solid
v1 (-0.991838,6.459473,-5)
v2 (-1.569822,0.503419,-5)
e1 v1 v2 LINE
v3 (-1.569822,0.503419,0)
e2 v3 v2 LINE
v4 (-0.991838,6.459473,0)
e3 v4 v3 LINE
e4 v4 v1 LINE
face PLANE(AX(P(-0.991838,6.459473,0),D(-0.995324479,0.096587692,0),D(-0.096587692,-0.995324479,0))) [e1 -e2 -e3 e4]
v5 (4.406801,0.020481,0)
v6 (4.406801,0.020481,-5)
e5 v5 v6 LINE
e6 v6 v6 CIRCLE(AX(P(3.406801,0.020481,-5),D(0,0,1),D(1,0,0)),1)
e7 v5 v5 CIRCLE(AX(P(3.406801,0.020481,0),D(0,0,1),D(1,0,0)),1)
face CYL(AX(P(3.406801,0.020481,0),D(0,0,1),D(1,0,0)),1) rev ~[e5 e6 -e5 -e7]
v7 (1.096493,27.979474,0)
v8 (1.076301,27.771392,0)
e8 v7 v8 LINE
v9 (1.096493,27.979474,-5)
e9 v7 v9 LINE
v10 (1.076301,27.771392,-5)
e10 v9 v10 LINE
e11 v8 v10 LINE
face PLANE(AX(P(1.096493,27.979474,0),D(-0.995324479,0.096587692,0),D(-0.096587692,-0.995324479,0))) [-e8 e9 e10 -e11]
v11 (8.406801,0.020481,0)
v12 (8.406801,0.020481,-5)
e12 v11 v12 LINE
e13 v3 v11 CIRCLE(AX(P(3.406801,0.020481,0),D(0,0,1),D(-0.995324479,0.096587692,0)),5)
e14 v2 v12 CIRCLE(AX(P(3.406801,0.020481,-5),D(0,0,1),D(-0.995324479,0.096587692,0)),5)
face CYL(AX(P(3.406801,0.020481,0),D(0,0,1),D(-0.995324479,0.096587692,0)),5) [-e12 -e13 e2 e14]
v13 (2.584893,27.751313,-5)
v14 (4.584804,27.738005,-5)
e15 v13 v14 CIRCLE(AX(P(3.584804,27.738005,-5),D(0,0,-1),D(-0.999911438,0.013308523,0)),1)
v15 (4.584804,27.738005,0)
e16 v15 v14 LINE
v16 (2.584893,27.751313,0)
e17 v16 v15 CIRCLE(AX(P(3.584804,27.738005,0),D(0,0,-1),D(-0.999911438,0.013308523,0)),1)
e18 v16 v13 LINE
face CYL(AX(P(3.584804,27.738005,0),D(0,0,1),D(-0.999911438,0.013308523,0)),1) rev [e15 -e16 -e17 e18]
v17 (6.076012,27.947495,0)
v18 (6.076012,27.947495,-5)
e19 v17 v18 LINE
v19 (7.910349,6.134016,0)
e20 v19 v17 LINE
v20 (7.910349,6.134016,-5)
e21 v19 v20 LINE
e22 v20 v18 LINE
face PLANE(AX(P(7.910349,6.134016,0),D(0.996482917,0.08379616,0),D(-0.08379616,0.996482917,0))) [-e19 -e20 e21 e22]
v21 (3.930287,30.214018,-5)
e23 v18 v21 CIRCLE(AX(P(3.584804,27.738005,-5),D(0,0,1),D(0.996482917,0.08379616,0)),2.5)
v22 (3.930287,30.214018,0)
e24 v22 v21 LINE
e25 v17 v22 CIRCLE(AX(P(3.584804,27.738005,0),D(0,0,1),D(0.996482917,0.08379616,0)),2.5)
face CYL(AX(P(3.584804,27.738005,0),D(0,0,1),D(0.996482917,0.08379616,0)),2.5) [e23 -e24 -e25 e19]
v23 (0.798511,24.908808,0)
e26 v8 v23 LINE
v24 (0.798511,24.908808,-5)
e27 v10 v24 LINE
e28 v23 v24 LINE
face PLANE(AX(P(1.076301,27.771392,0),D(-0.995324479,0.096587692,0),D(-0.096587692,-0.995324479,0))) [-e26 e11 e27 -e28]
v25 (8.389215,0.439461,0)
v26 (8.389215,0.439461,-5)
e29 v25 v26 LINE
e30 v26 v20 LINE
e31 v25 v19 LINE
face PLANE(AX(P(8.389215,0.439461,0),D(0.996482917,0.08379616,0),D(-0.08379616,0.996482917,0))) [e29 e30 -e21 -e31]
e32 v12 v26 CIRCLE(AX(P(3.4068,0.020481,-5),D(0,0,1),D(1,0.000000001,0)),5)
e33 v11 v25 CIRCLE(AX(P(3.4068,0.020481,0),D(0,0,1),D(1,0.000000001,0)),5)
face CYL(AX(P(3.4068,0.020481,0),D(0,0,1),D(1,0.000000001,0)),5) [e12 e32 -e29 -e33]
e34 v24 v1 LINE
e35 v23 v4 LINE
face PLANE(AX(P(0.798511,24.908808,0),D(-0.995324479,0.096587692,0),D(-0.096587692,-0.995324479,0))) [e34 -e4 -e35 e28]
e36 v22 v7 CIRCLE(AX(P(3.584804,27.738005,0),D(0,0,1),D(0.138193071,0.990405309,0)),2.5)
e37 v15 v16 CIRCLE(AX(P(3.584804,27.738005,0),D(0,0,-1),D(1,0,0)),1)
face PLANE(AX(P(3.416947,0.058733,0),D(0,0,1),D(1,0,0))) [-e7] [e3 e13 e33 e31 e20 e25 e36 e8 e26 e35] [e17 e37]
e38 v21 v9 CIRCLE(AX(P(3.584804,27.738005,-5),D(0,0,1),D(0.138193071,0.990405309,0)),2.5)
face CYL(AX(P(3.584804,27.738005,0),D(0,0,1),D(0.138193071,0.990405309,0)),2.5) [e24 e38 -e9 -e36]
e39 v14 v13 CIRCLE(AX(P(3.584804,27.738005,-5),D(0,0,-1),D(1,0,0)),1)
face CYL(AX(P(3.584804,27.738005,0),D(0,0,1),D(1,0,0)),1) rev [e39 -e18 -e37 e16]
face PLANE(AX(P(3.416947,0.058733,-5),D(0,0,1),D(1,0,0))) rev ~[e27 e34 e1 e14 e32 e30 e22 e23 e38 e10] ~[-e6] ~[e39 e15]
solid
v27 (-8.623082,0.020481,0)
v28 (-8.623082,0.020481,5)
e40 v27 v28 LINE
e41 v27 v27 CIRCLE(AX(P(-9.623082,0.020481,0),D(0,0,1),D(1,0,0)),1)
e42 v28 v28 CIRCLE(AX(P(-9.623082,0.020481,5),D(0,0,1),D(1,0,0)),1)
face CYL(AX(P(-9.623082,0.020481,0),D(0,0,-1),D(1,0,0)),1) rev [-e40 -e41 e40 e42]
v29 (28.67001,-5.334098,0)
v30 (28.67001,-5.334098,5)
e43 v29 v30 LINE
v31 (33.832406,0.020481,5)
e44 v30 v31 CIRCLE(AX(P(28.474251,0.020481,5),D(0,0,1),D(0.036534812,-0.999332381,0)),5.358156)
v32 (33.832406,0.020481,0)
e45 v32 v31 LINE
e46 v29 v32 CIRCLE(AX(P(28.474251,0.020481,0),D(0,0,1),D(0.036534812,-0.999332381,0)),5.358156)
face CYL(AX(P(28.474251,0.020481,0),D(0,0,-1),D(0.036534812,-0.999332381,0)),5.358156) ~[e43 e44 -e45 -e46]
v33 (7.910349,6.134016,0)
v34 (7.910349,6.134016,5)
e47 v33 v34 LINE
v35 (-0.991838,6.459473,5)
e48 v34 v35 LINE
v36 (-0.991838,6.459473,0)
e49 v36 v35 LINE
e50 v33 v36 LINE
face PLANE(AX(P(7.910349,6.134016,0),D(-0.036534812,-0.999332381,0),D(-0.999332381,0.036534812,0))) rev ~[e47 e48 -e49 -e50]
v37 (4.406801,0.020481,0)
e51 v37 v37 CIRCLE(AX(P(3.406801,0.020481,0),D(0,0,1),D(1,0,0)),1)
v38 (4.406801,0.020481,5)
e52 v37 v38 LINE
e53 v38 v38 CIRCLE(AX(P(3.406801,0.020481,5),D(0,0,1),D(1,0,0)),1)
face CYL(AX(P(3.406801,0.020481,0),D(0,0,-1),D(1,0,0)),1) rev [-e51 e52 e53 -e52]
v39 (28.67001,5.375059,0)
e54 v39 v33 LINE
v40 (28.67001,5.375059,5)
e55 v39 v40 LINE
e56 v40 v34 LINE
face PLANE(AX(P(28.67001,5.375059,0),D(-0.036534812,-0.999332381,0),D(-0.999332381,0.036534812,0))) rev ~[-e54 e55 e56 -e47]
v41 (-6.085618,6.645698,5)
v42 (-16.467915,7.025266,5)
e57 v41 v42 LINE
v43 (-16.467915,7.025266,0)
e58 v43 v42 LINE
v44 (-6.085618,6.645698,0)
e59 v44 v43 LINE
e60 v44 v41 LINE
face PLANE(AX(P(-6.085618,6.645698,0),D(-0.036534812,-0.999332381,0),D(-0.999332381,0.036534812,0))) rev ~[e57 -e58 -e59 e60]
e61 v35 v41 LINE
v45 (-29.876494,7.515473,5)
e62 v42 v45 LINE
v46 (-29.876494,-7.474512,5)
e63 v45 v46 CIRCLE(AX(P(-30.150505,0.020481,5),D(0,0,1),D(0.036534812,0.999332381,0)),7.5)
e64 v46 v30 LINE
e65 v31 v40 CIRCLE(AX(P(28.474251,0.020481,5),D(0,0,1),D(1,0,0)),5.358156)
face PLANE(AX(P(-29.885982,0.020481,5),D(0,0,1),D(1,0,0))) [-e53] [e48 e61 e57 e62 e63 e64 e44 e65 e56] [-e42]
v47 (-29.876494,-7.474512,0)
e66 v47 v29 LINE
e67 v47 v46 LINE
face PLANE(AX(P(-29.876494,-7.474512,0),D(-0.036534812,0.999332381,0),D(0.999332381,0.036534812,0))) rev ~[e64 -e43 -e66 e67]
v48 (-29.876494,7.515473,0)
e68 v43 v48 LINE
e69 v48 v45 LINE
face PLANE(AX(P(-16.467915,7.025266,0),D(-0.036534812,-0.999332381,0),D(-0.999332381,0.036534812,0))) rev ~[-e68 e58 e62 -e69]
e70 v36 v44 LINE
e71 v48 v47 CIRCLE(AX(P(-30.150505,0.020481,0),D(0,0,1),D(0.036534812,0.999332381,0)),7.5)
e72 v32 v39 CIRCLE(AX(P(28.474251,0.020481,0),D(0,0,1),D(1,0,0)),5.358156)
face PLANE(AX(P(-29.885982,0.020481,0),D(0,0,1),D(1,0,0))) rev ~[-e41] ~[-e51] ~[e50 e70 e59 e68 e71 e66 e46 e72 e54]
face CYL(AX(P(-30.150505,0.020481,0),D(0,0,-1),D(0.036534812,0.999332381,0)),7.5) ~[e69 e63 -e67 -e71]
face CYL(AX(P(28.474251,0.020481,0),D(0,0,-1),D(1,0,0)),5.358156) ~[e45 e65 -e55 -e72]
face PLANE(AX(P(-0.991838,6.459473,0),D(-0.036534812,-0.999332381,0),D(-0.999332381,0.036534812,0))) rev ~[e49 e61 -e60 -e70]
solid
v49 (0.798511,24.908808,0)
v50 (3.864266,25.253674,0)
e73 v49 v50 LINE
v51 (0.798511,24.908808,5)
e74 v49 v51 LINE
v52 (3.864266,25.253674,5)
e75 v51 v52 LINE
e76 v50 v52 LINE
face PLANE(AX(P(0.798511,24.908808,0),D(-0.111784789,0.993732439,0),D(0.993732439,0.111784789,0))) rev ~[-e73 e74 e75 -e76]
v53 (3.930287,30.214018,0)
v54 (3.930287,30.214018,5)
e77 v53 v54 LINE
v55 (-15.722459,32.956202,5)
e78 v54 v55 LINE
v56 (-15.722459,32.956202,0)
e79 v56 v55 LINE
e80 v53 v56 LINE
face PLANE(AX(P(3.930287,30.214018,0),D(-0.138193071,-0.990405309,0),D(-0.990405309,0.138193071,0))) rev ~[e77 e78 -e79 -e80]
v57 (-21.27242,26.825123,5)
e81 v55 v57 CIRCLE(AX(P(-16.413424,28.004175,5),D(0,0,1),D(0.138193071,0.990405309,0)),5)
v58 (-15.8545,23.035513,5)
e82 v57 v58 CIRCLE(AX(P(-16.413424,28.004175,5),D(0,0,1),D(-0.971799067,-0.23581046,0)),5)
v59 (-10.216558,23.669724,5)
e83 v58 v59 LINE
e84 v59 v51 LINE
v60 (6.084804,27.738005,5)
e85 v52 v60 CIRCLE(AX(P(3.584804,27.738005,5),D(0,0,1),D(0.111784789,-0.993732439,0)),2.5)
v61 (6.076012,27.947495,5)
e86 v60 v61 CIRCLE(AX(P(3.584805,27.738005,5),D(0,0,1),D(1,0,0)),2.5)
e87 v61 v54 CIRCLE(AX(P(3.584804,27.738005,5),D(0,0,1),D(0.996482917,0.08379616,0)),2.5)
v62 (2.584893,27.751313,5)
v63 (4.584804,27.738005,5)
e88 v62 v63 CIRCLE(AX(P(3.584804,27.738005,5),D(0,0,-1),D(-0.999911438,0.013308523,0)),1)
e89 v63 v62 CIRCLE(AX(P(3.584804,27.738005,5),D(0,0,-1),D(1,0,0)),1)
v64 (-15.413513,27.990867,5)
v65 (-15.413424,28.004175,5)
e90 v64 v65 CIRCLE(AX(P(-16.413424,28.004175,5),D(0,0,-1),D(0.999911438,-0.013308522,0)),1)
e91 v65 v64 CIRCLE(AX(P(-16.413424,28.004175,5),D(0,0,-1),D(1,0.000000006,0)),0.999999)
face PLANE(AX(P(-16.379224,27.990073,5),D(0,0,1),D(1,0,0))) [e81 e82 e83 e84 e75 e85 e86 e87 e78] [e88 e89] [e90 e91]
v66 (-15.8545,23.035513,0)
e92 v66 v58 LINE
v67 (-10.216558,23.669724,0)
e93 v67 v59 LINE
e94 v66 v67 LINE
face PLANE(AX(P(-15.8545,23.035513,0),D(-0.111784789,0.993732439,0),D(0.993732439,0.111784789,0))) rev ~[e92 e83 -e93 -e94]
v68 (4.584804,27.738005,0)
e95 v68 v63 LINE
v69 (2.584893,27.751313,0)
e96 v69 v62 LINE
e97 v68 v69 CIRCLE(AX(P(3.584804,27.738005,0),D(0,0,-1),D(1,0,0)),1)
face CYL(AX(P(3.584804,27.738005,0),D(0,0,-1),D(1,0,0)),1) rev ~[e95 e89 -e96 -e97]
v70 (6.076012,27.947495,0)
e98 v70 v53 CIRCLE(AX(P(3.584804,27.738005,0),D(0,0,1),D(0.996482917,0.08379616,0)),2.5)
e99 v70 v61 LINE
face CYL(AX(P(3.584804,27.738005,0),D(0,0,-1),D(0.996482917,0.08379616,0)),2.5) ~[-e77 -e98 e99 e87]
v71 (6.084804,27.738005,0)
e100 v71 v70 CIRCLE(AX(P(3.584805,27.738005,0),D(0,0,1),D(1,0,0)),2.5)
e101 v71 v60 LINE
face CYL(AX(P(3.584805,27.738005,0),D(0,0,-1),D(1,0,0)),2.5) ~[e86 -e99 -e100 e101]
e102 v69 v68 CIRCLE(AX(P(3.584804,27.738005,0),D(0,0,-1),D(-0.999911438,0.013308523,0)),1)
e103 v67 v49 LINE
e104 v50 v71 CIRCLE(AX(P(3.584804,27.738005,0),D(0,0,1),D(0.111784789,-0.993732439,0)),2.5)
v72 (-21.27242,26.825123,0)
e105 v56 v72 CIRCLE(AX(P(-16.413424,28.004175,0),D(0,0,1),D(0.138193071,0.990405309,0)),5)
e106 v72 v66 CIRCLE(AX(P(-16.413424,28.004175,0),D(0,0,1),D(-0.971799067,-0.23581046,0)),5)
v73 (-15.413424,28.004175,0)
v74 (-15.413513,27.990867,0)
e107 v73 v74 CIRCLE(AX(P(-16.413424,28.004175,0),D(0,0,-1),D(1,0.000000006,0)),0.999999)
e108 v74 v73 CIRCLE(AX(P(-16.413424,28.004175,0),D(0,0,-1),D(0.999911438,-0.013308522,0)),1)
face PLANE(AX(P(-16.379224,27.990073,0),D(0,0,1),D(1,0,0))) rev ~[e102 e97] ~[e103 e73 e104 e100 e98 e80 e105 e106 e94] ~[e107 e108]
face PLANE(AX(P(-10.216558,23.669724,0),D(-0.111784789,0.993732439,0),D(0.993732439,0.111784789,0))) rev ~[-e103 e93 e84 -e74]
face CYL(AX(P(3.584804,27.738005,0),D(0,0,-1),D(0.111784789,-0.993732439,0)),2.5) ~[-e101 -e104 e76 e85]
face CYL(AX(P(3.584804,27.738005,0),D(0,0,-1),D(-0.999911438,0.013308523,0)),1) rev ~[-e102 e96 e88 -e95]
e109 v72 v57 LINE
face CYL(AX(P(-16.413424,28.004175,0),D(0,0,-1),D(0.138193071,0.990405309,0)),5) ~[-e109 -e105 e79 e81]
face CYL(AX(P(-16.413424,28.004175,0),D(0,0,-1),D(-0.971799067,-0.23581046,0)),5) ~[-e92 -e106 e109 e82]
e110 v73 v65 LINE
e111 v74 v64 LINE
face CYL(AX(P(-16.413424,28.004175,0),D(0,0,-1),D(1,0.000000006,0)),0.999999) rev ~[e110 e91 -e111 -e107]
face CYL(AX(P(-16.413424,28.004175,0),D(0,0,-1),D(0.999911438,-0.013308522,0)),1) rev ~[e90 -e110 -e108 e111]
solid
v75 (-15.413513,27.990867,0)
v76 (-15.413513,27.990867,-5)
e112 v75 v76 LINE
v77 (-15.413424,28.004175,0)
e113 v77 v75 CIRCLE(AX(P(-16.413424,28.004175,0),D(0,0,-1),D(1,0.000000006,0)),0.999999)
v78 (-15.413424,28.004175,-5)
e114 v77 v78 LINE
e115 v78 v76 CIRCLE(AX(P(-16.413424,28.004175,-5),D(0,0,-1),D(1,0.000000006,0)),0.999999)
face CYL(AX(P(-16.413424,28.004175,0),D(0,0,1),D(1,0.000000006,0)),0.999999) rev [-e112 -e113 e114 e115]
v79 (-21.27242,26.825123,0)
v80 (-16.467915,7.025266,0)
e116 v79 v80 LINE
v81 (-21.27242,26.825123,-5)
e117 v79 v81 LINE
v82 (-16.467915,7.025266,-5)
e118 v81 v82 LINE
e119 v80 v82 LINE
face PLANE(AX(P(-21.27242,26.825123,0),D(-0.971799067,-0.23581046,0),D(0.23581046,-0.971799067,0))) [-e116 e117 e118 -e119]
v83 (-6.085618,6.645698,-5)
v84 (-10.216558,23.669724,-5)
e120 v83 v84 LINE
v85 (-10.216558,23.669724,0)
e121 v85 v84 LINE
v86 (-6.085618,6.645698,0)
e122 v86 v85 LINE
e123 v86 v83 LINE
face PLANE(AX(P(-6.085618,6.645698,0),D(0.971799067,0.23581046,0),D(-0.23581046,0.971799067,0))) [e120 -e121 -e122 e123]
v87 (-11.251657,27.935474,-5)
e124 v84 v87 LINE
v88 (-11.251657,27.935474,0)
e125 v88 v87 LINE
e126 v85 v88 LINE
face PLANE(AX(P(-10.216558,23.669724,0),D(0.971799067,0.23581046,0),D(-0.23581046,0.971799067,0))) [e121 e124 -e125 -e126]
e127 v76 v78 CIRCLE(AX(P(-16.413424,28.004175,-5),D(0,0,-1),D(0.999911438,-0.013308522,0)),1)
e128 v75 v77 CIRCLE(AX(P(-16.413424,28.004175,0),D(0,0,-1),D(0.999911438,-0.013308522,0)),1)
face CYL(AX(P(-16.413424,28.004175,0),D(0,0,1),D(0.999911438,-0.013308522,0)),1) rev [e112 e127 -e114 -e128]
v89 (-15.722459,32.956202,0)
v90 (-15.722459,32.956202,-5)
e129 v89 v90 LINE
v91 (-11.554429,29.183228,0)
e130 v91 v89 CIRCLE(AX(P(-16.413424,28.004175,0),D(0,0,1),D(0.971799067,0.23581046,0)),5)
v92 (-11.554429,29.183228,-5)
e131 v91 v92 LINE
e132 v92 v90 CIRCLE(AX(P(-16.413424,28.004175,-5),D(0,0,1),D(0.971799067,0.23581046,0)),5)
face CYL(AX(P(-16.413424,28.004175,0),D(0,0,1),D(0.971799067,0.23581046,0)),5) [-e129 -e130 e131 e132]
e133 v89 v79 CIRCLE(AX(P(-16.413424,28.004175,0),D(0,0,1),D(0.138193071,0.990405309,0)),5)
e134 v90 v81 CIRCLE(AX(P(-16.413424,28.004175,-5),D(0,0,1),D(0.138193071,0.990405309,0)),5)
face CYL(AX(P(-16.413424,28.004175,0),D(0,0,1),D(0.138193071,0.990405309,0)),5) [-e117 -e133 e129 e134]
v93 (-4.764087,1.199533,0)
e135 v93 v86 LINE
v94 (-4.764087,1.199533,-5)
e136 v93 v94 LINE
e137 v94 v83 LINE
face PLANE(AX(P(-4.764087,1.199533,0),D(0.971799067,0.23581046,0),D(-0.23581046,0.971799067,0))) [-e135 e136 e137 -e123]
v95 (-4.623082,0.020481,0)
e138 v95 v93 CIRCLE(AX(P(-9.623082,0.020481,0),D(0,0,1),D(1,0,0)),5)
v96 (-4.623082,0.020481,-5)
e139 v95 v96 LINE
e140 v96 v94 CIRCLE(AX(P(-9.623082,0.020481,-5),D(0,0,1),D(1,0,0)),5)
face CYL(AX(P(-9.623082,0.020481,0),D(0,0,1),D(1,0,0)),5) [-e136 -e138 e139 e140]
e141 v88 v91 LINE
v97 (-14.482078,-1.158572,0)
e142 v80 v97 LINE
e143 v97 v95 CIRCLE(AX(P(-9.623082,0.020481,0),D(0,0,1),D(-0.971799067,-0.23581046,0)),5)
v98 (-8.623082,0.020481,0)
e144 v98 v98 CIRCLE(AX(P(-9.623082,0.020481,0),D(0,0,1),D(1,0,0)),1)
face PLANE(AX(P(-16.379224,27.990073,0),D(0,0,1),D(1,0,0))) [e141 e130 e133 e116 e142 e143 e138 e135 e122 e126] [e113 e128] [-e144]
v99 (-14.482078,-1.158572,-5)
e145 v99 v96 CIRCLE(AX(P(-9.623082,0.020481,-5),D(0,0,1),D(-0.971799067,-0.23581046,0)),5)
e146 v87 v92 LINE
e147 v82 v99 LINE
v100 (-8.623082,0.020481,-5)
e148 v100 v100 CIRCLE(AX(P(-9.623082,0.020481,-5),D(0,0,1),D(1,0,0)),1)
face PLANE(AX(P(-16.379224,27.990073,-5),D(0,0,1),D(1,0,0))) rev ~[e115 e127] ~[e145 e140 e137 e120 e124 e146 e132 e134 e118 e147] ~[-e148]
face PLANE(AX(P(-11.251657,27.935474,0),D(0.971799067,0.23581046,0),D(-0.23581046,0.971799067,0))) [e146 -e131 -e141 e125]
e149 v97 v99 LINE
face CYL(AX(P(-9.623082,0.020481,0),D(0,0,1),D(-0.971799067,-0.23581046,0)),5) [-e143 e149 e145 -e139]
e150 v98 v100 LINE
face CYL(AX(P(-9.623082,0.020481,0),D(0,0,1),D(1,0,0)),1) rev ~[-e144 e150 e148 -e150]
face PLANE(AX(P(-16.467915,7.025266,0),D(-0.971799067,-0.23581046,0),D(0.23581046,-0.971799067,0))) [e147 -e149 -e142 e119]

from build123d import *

# Parameters (mm, degrees)
F1_DEPTH = 5
F0_R     = 1
F2_DEPTH = 5


with BuildPart() as f1:
    # F0 (on Top) → F1 (new body)
    with BuildSketch(Plane.XY):
        with BuildLine():
            ThreePointArc((-15.854500332, 23.0355131938), (-12.7077701873, 24.6473721814), (-11.4138670862, 27.9376327737))
            ThreePointArc((-11.4138670862, 27.9376327737), (-11.4135349787, 27.9709033455), (-11.4134242746, 28.0041753906))
            ThreePointArc((-11.4134242746, 28.0041753906), (-11.4488005891, 28.5979023154), (-11.5544289391, 29.1832276921))
            ThreePointArc((-11.5544289391, 29.1832276921), (-13.057928846, 31.7110137238), (-15.72245892, 32.9562019333))
            ThreePointArc((-15.72245892, 32.9562019333), (-20.1202626078, 31.3596708193), (-21.2724196101, 26.8251230892))
            ThreePointArc((-21.2724196101, 26.8251230892), (-19.279246894, 23.9069738196), (-15.854500332, 23.0355131938))
        make_face()
        with BuildLine():
            ThreePointArc((-15.4134242746, 28.0041753906), (-15.4134464154, 27.9975209816), (-15.4135128369, 27.9908668673))
            ThreePointArc((-15.4135128369, 27.9908668673), (-17.4134021338, 28.0108297997), (-15.4134242746, 28.0041753906))
        make_face(mode=Mode.SUBTRACT)
        with BuildLine():
            Line((-11.5544289391, 29.1832276921), (-11.2516570719, 27.9354738067))
            Line((-11.2516570719, 27.9354738067), (1.0763007318, 27.7713923605))
            Line((1.0763007318, 27.7713923605), (1.0964932824, 27.9794741519))
            ThreePointArc((1.0964932824, 27.9794741519), (2.036829904, 29.7011082607), (3.9302871563, 30.2140181942))
            Line((3.9302871563, 30.2140181942), (-15.72245892, 32.9562019333))
            ThreePointArc((-15.72245892, 32.9562019333), (-13.057928846, 31.7110137238), (-11.5544289391, 29.1832276921))
        make_face()
        with BuildLine():
            ThreePointArc((1.0964932824, 27.9794741519), (1.0885880353, 27.875494799), (1.0850258848, 27.7712762313))
            ThreePointArc((1.0850258848, 27.7712762313), (1.9064028744, 25.8851778792), (3.8642664503, 25.2536738244))
            ThreePointArc((3.8642664503, 25.2536738244), (5.4487592704, 26.0719699485), (6.084804479, 27.7380049229))
            ThreePointArc((6.084804479, 27.7380049229), (6.0826053348, 27.842842344), (6.0760117711, 27.9474953231))
            ThreePointArc((6.0760117711, 27.9474953231), (5.400288981, 29.4567300385), (3.9302871563, 30.2140181942))
            ThreePointArc((3.9302871563, 30.2140181942), (2.036829904, 29.7011082607), (1.0964932824, 27.9794741519))
        make_face()
        with BuildLine():
            ThreePointArc((4.584804479, 27.7380049229), (3.57815007, 26.7380270637), (2.5848930414, 27.7513134463))
            ThreePointArc((2.5848930414, 27.7513134463), (3.5914588881, 28.737982782), (4.584804479, 27.7380049229))
        make_face(mode=Mode.SUBTRACT)
        with BuildLine():
            Line((1.0850258848, 27.7712762313), (1.0763007318, 27.7713923605))
            Line((1.0763007318, 27.7713923605), (0.7985114663, 24.9088075818))
            Line((0.7985114663, 24.9088075818), (3.8642664503, 25.2536738244))
            ThreePointArc((3.8642664503, 25.2536738244), (1.9064028744, 25.8851778792), (1.0850258848, 27.7712762313))
        make_face()
        Polygon((1.0763007318, 27.7713923605), (-11.2516570719, 27.9354738067), (-10.2165579676, 23.6697243455), (0.7985114663, 24.9088075818), align=None)
        with BuildLine():
            Line((-11.2516570719, 27.9354738067), (-11.4138670862, 27.9376327737))
            ThreePointArc((-11.4138670862, 27.9376327737), (-12.7077701873, 24.6473721814), (-15.854500332, 23.0355131938))
            Line((-15.854500332, 23.0355131938), (-10.2165579676, 23.6697243455))
            Line((-10.2165579676, 23.6697243455), (-11.2516570719, 27.9354738067))
        make_face()
        with BuildLine():
            ThreePointArc((-11.4134242746, 28.0041753906), (-11.4135349787, 27.9709033455), (-11.4138670862, 27.9376327737))
            Line((-11.4138670862, 27.9376327737), (-11.2516570719, 27.9354738067))
            Line((-11.2516570719, 27.9354738067), (-11.5544289391, 29.1832276921))
            ThreePointArc((-11.5544289391, 29.1832276921), (-11.4488005891, 28.5979023154), (-11.4134242746, 28.0041753906))
        make_face()
        with BuildLine():
            Line((1.0964932824, 27.9794741519), (1.0763007318, 27.7713923605))
            Line((1.0763007318, 27.7713923605), (1.0850258848, 27.7712762313))
            ThreePointArc((1.0850258848, 27.7712762313), (1.0885880353, 27.875494799), (1.0964932824, 27.9794741519))
        make_face()
    extrude(amount=F1_DEPTH)


with BuildPart() as f1b:
    # F0 (on Top) → F1, piece 2 (new body)
    with BuildSketch(Plane.XY):
        with BuildLine():
            ThreePointArc((-22.6505047828, 0.0204806253), (-24.751195421, 5.2260025411), (-29.8764936936, 7.5154734821))
            ThreePointArc((-29.8764936936, 7.5154734821), (-37.6505047828, 0.0204806253), (-29.8764936936, -7.4745122315))
            ThreePointArc((-29.8764936936, -7.4745122315), (-24.751195421, -5.1850412904), (-22.6505047828, 0.0204806253))
        make_face()
        with BuildLine():
            Line((-0.9918379888, 6.4594730131), (-6.0856180335, 6.645697636))
            Line((-6.0856180335, 6.645697636), (-4.7640870192, 1.1995329267))
            ThreePointArc((-4.7640870192, 1.1995329267), (-4.6584586692, 0.6142075501), (-4.6230823547, 0.0204806253))
            ThreePointArc((-4.6230823547, 0.0204806253), (-9.0293554299, -4.9441430602), (-14.4820776902, -1.1585716761))
            Line((-14.4820776902, -1.1585716761), (-16.467914748, 7.0252663008))
            Line((-16.467914748, 7.0252663008), (-29.8764936936, 7.5154734821))
            ThreePointArc((-29.8764936936, 7.5154734821), (-24.751195421, 5.2260025411), (-22.6505047828, 0.0204806253))
            ThreePointArc((-22.6505047828, 0.0204806253), (-24.751195421, -5.1850412904), (-29.8764936936, -7.4745122315))
            Line((-29.8764936936, -7.4745122315), (28.6700100147, -5.3340977497))
            ThreePointArc((28.6700100147, -5.3340977497), (23.1160952264, 0.0204806253), (28.6700100147, 5.3750590003))
            Line((28.6700100147, 5.3750590003), (7.9103490939, 6.1340160013))
            Line((7.9103490939, 6.1340160013), (8.3892151125, 0.4394614259))
            ThreePointArc((8.3892151125, 0.4394614259), (8.4024022398, 0.2301554677), (8.4068005283, 0.0204806253))
            ThreePointArc((8.4068005283, 0.0204806253), (3.1650485547, -4.9736715533), (-1.5698218651, 0.5034190834))
            Line((-1.5698218651, 0.5034190834), (-0.9918379888, 6.4594730131))
        make_face()
        with BuildLine():
            ThreePointArc((33.8324063903, 0.0204806253), (32.3316294211, 3.7394134666), (28.6700100147, 5.3750590003))
            ThreePointArc((28.6700100147, 5.3750590003), (23.1160952264, 0.0204806253), (28.6700100147, -5.3340977497))
            ThreePointArc((28.6700100147, -5.3340977497), (32.3316294211, -3.698452216), (33.8324063903, 0.0204806253))
        make_face()
        with BuildLine():
            Line((7.9103490939, 6.1340160013), (-0.9918379888, 6.4594730131))
            Line((-0.9918379888, 6.4594730131), (-1.5698218651, 0.5034190834))
            ThreePointArc((-1.5698218651, 0.5034190834), (3.4389102287, 5.020377521), (8.3892151125, 0.4394614259))
            Line((8.3892151125, 0.4394614259), (7.9103490939, 6.1340160013))
        make_face()
        with BuildLine():
            ThreePointArc((8.3892151125, 0.4394614259), (3.4389102287, 5.020377521), (-1.5698218651, 0.5034190834))
            ThreePointArc((-1.5698218651, 0.5034190834), (3.1650485547, -4.9736715533), (8.4068005283, 0.0204806253))
            ThreePointArc((8.4068005283, 0.0204806253), (8.4024022398, 0.2301554677), (8.3892151125, 0.4394614259))
        make_face()
        with Locations((3.4068005283, 0.0204806253)):
            Circle(F0_R, mode=Mode.SUBTRACT)
        with BuildLine():
            ThreePointArc((-4.6230823547, 0.0204806253), (-4.6584586692, 0.6142075501), (-4.7640870192, 1.1995329267))
            ThreePointArc((-4.7640870192, 1.1995329267), (-10.8021346561, 4.8794759608), (-14.4820776902, -1.1585716761))
            ThreePointArc((-14.4820776902, -1.1585716761), (-9.0293554299, -4.9441430602), (-4.6230823547, 0.0204806253))
        make_face()
        with Locations((-9.6230823547, 0.0204806253)):
            Circle(F0_R, mode=Mode.SUBTRACT)
        with BuildLine():
            Line((-4.7640870192, 1.1995329267), (-6.0856180335, 6.645697636))
            Line((-6.0856180335, 6.645697636), (-16.467914748, 7.0252663008))
            Line((-16.467914748, 7.0252663008), (-14.4820776902, -1.1585716761))
            ThreePointArc((-14.4820776902, -1.1585716761), (-10.8021346561, 4.8794759608), (-4.7640870192, 1.1995329267))
        make_face()
    extrude(amount=F1_DEPTH)


with BuildPart() as f2:
    # F0 (on Top) → F2 (new body)
    with BuildSketch(Plane.XY):
        with BuildLine():
            ThreePointArc((-15.854500332, 23.0355131938), (-12.7077701873, 24.6473721814), (-11.4138670862, 27.9376327737))
            ThreePointArc((-11.4138670862, 27.9376327737), (-11.4135349787, 27.9709033455), (-11.4134242746, 28.0041753906))
            ThreePointArc((-11.4134242746, 28.0041753906), (-11.4488005891, 28.5979023154), (-11.5544289391, 29.1832276921))
            ThreePointArc((-11.5544289391, 29.1832276921), (-13.057928846, 31.7110137238), (-15.72245892, 32.9562019333))
            ThreePointArc((-15.72245892, 32.9562019333), (-20.1202626078, 31.3596708193), (-21.2724196101, 26.8251230892))
            ThreePointArc((-21.2724196101, 26.8251230892), (-19.279246894, 23.9069738196), (-15.854500332, 23.0355131938))
        make_face()
        with BuildLine():
            ThreePointArc((-15.4134242746, 28.0041753906), (-15.4134464154, 27.9975209816), (-15.4135128369, 27.9908668673))
            ThreePointArc((-15.4135128369, 27.9908668673), (-17.4134021338, 28.0108297997), (-15.4134242746, 28.0041753906))
        make_face(mode=Mode.SUBTRACT)
        with BuildLine():
            ThreePointArc((-11.4134242746, 28.0041753906), (-11.4135349787, 27.9709033455), (-11.4138670862, 27.9376327737))
            Line((-11.4138670862, 27.9376327737), (-11.2516570719, 27.9354738067))
            Line((-11.2516570719, 27.9354738067), (-11.5544289391, 29.1832276921))
            ThreePointArc((-11.5544289391, 29.1832276921), (-11.4488005891, 28.5979023154), (-11.4134242746, 28.0041753906))
        make_face()
        with BuildLine():
            Line((-11.2516570719, 27.9354738067), (-11.4138670862, 27.9376327737))
            ThreePointArc((-11.4138670862, 27.9376327737), (-12.7077701873, 24.6473721814), (-15.854500332, 23.0355131938))
            Line((-15.854500332, 23.0355131938), (-10.2165579676, 23.6697243455))
            Line((-10.2165579676, 23.6697243455), (-11.2516570719, 27.9354738067))
        make_face()
        with BuildLine():
            Line((-10.2165579676, 23.6697243455), (-15.854500332, 23.0355131938))
            ThreePointArc((-15.854500332, 23.0355131938), (-19.279246894, 23.9069738196), (-21.2724196101, 26.8251230892))
            Line((-21.2724196101, 26.8251230892), (-16.467914748, 7.0252663008))
            Line((-16.467914748, 7.0252663008), (-6.0856180335, 6.645697636))
            Line((-6.0856180335, 6.645697636), (-10.2165579676, 23.6697243455))
        make_face()
        with BuildLine():
            Line((-4.7640870192, 1.1995329267), (-6.0856180335, 6.645697636))
            Line((-6.0856180335, 6.645697636), (-16.467914748, 7.0252663008))
            Line((-16.467914748, 7.0252663008), (-14.4820776902, -1.1585716761))
            ThreePointArc((-14.4820776902, -1.1585716761), (-10.8021346561, 4.8794759608), (-4.7640870192, 1.1995329267))
        make_face()
        with BuildLine():
            ThreePointArc((-4.6230823547, 0.0204806253), (-4.6584586692, 0.6142075501), (-4.7640870192, 1.1995329267))
            ThreePointArc((-4.7640870192, 1.1995329267), (-10.8021346561, 4.8794759608), (-14.4820776902, -1.1585716761))
            ThreePointArc((-14.4820776902, -1.1585716761), (-9.0293554299, -4.9441430602), (-4.6230823547, 0.0204806253))
        make_face()
        with Locations((-9.6230823547, 0.0204806253)):
            Circle(F0_R, mode=Mode.SUBTRACT)
    extrude(amount=-F2_DEPTH)


with BuildPart() as f2b:
    # F0 (on Top) → F2, piece 2 (new body)
    with BuildSketch(Plane.XY):
        with BuildLine():
            ThreePointArc((8.3892151125, 0.4394614259), (3.4389102287, 5.020377521), (-1.5698218651, 0.5034190834))
            ThreePointArc((-1.5698218651, 0.5034190834), (3.1650485547, -4.9736715533), (8.4068005283, 0.0204806253))
            ThreePointArc((8.4068005283, 0.0204806253), (8.4024022398, 0.2301554677), (8.3892151125, 0.4394614259))
        make_face()
        with Locations((3.4068005283, 0.0204806253)):
            Circle(F0_R, mode=Mode.SUBTRACT)
        with BuildLine():
            Line((7.9103490939, 6.1340160013), (-0.9918379888, 6.4594730131))
            Line((-0.9918379888, 6.4594730131), (-1.5698218651, 0.5034190834))
            ThreePointArc((-1.5698218651, 0.5034190834), (3.4389102287, 5.020377521), (8.3892151125, 0.4394614259))
            Line((8.3892151125, 0.4394614259), (7.9103490939, 6.1340160013))
        make_face()
        with BuildLine():
            Line((3.8642664503, 25.2536738244), (0.7985114663, 24.9088075818))
            Line((0.7985114663, 24.9088075818), (-0.9918379888, 6.4594730131))
            Line((-0.9918379888, 6.4594730131), (7.9103490939, 6.1340160013))
            Line((7.9103490939, 6.1340160013), (6.0760117711, 27.9474953231))
            ThreePointArc((6.0760117711, 27.9474953231), (6.0826053348, 27.842842344), (6.084804479, 27.7380049229))
            ThreePointArc((6.084804479, 27.7380049229), (5.4487592704, 26.0719699485), (3.8642664503, 25.2536738244))
        make_face()
        with BuildLine():
            Line((1.0850258848, 27.7712762313), (1.0763007318, 27.7713923605))
            Line((1.0763007318, 27.7713923605), (0.7985114663, 24.9088075818))
            Line((0.7985114663, 24.9088075818), (3.8642664503, 25.2536738244))
            ThreePointArc((3.8642664503, 25.2536738244), (1.9064028744, 25.8851778792), (1.0850258848, 27.7712762313))
        make_face()
        with BuildLine():
            ThreePointArc((1.0964932824, 27.9794741519), (1.0885880353, 27.875494799), (1.0850258848, 27.7712762313))
            ThreePointArc((1.0850258848, 27.7712762313), (1.9064028744, 25.8851778792), (3.8642664503, 25.2536738244))
            ThreePointArc((3.8642664503, 25.2536738244), (5.4487592704, 26.0719699485), (6.084804479, 27.7380049229))
            ThreePointArc((6.084804479, 27.7380049229), (6.0826053348, 27.842842344), (6.0760117711, 27.9474953231))
            ThreePointArc((6.0760117711, 27.9474953231), (5.400288981, 29.4567300385), (3.9302871563, 30.2140181942))
            ThreePointArc((3.9302871563, 30.2140181942), (2.036829904, 29.7011082607), (1.0964932824, 27.9794741519))
        make_face()
        with BuildLine():
            ThreePointArc((4.584804479, 27.7380049229), (3.57815007, 26.7380270637), (2.5848930414, 27.7513134463))
            ThreePointArc((2.5848930414, 27.7513134463), (3.5914588881, 28.737982782), (4.584804479, 27.7380049229))
        make_face(mode=Mode.SUBTRACT)
        with BuildLine():
            Line((1.0964932824, 27.9794741519), (1.0763007318, 27.7713923605))
            Line((1.0763007318, 27.7713923605), (1.0850258848, 27.7712762313))
            ThreePointArc((1.0850258848, 27.7712762313), (1.0885880353, 27.875494799), (1.0964932824, 27.9794741519))
        make_face()
    extrude(amount=-F2_DEPTH)


solid = Compound([f1.part, f1b.part, f2.part, f2b.part])
